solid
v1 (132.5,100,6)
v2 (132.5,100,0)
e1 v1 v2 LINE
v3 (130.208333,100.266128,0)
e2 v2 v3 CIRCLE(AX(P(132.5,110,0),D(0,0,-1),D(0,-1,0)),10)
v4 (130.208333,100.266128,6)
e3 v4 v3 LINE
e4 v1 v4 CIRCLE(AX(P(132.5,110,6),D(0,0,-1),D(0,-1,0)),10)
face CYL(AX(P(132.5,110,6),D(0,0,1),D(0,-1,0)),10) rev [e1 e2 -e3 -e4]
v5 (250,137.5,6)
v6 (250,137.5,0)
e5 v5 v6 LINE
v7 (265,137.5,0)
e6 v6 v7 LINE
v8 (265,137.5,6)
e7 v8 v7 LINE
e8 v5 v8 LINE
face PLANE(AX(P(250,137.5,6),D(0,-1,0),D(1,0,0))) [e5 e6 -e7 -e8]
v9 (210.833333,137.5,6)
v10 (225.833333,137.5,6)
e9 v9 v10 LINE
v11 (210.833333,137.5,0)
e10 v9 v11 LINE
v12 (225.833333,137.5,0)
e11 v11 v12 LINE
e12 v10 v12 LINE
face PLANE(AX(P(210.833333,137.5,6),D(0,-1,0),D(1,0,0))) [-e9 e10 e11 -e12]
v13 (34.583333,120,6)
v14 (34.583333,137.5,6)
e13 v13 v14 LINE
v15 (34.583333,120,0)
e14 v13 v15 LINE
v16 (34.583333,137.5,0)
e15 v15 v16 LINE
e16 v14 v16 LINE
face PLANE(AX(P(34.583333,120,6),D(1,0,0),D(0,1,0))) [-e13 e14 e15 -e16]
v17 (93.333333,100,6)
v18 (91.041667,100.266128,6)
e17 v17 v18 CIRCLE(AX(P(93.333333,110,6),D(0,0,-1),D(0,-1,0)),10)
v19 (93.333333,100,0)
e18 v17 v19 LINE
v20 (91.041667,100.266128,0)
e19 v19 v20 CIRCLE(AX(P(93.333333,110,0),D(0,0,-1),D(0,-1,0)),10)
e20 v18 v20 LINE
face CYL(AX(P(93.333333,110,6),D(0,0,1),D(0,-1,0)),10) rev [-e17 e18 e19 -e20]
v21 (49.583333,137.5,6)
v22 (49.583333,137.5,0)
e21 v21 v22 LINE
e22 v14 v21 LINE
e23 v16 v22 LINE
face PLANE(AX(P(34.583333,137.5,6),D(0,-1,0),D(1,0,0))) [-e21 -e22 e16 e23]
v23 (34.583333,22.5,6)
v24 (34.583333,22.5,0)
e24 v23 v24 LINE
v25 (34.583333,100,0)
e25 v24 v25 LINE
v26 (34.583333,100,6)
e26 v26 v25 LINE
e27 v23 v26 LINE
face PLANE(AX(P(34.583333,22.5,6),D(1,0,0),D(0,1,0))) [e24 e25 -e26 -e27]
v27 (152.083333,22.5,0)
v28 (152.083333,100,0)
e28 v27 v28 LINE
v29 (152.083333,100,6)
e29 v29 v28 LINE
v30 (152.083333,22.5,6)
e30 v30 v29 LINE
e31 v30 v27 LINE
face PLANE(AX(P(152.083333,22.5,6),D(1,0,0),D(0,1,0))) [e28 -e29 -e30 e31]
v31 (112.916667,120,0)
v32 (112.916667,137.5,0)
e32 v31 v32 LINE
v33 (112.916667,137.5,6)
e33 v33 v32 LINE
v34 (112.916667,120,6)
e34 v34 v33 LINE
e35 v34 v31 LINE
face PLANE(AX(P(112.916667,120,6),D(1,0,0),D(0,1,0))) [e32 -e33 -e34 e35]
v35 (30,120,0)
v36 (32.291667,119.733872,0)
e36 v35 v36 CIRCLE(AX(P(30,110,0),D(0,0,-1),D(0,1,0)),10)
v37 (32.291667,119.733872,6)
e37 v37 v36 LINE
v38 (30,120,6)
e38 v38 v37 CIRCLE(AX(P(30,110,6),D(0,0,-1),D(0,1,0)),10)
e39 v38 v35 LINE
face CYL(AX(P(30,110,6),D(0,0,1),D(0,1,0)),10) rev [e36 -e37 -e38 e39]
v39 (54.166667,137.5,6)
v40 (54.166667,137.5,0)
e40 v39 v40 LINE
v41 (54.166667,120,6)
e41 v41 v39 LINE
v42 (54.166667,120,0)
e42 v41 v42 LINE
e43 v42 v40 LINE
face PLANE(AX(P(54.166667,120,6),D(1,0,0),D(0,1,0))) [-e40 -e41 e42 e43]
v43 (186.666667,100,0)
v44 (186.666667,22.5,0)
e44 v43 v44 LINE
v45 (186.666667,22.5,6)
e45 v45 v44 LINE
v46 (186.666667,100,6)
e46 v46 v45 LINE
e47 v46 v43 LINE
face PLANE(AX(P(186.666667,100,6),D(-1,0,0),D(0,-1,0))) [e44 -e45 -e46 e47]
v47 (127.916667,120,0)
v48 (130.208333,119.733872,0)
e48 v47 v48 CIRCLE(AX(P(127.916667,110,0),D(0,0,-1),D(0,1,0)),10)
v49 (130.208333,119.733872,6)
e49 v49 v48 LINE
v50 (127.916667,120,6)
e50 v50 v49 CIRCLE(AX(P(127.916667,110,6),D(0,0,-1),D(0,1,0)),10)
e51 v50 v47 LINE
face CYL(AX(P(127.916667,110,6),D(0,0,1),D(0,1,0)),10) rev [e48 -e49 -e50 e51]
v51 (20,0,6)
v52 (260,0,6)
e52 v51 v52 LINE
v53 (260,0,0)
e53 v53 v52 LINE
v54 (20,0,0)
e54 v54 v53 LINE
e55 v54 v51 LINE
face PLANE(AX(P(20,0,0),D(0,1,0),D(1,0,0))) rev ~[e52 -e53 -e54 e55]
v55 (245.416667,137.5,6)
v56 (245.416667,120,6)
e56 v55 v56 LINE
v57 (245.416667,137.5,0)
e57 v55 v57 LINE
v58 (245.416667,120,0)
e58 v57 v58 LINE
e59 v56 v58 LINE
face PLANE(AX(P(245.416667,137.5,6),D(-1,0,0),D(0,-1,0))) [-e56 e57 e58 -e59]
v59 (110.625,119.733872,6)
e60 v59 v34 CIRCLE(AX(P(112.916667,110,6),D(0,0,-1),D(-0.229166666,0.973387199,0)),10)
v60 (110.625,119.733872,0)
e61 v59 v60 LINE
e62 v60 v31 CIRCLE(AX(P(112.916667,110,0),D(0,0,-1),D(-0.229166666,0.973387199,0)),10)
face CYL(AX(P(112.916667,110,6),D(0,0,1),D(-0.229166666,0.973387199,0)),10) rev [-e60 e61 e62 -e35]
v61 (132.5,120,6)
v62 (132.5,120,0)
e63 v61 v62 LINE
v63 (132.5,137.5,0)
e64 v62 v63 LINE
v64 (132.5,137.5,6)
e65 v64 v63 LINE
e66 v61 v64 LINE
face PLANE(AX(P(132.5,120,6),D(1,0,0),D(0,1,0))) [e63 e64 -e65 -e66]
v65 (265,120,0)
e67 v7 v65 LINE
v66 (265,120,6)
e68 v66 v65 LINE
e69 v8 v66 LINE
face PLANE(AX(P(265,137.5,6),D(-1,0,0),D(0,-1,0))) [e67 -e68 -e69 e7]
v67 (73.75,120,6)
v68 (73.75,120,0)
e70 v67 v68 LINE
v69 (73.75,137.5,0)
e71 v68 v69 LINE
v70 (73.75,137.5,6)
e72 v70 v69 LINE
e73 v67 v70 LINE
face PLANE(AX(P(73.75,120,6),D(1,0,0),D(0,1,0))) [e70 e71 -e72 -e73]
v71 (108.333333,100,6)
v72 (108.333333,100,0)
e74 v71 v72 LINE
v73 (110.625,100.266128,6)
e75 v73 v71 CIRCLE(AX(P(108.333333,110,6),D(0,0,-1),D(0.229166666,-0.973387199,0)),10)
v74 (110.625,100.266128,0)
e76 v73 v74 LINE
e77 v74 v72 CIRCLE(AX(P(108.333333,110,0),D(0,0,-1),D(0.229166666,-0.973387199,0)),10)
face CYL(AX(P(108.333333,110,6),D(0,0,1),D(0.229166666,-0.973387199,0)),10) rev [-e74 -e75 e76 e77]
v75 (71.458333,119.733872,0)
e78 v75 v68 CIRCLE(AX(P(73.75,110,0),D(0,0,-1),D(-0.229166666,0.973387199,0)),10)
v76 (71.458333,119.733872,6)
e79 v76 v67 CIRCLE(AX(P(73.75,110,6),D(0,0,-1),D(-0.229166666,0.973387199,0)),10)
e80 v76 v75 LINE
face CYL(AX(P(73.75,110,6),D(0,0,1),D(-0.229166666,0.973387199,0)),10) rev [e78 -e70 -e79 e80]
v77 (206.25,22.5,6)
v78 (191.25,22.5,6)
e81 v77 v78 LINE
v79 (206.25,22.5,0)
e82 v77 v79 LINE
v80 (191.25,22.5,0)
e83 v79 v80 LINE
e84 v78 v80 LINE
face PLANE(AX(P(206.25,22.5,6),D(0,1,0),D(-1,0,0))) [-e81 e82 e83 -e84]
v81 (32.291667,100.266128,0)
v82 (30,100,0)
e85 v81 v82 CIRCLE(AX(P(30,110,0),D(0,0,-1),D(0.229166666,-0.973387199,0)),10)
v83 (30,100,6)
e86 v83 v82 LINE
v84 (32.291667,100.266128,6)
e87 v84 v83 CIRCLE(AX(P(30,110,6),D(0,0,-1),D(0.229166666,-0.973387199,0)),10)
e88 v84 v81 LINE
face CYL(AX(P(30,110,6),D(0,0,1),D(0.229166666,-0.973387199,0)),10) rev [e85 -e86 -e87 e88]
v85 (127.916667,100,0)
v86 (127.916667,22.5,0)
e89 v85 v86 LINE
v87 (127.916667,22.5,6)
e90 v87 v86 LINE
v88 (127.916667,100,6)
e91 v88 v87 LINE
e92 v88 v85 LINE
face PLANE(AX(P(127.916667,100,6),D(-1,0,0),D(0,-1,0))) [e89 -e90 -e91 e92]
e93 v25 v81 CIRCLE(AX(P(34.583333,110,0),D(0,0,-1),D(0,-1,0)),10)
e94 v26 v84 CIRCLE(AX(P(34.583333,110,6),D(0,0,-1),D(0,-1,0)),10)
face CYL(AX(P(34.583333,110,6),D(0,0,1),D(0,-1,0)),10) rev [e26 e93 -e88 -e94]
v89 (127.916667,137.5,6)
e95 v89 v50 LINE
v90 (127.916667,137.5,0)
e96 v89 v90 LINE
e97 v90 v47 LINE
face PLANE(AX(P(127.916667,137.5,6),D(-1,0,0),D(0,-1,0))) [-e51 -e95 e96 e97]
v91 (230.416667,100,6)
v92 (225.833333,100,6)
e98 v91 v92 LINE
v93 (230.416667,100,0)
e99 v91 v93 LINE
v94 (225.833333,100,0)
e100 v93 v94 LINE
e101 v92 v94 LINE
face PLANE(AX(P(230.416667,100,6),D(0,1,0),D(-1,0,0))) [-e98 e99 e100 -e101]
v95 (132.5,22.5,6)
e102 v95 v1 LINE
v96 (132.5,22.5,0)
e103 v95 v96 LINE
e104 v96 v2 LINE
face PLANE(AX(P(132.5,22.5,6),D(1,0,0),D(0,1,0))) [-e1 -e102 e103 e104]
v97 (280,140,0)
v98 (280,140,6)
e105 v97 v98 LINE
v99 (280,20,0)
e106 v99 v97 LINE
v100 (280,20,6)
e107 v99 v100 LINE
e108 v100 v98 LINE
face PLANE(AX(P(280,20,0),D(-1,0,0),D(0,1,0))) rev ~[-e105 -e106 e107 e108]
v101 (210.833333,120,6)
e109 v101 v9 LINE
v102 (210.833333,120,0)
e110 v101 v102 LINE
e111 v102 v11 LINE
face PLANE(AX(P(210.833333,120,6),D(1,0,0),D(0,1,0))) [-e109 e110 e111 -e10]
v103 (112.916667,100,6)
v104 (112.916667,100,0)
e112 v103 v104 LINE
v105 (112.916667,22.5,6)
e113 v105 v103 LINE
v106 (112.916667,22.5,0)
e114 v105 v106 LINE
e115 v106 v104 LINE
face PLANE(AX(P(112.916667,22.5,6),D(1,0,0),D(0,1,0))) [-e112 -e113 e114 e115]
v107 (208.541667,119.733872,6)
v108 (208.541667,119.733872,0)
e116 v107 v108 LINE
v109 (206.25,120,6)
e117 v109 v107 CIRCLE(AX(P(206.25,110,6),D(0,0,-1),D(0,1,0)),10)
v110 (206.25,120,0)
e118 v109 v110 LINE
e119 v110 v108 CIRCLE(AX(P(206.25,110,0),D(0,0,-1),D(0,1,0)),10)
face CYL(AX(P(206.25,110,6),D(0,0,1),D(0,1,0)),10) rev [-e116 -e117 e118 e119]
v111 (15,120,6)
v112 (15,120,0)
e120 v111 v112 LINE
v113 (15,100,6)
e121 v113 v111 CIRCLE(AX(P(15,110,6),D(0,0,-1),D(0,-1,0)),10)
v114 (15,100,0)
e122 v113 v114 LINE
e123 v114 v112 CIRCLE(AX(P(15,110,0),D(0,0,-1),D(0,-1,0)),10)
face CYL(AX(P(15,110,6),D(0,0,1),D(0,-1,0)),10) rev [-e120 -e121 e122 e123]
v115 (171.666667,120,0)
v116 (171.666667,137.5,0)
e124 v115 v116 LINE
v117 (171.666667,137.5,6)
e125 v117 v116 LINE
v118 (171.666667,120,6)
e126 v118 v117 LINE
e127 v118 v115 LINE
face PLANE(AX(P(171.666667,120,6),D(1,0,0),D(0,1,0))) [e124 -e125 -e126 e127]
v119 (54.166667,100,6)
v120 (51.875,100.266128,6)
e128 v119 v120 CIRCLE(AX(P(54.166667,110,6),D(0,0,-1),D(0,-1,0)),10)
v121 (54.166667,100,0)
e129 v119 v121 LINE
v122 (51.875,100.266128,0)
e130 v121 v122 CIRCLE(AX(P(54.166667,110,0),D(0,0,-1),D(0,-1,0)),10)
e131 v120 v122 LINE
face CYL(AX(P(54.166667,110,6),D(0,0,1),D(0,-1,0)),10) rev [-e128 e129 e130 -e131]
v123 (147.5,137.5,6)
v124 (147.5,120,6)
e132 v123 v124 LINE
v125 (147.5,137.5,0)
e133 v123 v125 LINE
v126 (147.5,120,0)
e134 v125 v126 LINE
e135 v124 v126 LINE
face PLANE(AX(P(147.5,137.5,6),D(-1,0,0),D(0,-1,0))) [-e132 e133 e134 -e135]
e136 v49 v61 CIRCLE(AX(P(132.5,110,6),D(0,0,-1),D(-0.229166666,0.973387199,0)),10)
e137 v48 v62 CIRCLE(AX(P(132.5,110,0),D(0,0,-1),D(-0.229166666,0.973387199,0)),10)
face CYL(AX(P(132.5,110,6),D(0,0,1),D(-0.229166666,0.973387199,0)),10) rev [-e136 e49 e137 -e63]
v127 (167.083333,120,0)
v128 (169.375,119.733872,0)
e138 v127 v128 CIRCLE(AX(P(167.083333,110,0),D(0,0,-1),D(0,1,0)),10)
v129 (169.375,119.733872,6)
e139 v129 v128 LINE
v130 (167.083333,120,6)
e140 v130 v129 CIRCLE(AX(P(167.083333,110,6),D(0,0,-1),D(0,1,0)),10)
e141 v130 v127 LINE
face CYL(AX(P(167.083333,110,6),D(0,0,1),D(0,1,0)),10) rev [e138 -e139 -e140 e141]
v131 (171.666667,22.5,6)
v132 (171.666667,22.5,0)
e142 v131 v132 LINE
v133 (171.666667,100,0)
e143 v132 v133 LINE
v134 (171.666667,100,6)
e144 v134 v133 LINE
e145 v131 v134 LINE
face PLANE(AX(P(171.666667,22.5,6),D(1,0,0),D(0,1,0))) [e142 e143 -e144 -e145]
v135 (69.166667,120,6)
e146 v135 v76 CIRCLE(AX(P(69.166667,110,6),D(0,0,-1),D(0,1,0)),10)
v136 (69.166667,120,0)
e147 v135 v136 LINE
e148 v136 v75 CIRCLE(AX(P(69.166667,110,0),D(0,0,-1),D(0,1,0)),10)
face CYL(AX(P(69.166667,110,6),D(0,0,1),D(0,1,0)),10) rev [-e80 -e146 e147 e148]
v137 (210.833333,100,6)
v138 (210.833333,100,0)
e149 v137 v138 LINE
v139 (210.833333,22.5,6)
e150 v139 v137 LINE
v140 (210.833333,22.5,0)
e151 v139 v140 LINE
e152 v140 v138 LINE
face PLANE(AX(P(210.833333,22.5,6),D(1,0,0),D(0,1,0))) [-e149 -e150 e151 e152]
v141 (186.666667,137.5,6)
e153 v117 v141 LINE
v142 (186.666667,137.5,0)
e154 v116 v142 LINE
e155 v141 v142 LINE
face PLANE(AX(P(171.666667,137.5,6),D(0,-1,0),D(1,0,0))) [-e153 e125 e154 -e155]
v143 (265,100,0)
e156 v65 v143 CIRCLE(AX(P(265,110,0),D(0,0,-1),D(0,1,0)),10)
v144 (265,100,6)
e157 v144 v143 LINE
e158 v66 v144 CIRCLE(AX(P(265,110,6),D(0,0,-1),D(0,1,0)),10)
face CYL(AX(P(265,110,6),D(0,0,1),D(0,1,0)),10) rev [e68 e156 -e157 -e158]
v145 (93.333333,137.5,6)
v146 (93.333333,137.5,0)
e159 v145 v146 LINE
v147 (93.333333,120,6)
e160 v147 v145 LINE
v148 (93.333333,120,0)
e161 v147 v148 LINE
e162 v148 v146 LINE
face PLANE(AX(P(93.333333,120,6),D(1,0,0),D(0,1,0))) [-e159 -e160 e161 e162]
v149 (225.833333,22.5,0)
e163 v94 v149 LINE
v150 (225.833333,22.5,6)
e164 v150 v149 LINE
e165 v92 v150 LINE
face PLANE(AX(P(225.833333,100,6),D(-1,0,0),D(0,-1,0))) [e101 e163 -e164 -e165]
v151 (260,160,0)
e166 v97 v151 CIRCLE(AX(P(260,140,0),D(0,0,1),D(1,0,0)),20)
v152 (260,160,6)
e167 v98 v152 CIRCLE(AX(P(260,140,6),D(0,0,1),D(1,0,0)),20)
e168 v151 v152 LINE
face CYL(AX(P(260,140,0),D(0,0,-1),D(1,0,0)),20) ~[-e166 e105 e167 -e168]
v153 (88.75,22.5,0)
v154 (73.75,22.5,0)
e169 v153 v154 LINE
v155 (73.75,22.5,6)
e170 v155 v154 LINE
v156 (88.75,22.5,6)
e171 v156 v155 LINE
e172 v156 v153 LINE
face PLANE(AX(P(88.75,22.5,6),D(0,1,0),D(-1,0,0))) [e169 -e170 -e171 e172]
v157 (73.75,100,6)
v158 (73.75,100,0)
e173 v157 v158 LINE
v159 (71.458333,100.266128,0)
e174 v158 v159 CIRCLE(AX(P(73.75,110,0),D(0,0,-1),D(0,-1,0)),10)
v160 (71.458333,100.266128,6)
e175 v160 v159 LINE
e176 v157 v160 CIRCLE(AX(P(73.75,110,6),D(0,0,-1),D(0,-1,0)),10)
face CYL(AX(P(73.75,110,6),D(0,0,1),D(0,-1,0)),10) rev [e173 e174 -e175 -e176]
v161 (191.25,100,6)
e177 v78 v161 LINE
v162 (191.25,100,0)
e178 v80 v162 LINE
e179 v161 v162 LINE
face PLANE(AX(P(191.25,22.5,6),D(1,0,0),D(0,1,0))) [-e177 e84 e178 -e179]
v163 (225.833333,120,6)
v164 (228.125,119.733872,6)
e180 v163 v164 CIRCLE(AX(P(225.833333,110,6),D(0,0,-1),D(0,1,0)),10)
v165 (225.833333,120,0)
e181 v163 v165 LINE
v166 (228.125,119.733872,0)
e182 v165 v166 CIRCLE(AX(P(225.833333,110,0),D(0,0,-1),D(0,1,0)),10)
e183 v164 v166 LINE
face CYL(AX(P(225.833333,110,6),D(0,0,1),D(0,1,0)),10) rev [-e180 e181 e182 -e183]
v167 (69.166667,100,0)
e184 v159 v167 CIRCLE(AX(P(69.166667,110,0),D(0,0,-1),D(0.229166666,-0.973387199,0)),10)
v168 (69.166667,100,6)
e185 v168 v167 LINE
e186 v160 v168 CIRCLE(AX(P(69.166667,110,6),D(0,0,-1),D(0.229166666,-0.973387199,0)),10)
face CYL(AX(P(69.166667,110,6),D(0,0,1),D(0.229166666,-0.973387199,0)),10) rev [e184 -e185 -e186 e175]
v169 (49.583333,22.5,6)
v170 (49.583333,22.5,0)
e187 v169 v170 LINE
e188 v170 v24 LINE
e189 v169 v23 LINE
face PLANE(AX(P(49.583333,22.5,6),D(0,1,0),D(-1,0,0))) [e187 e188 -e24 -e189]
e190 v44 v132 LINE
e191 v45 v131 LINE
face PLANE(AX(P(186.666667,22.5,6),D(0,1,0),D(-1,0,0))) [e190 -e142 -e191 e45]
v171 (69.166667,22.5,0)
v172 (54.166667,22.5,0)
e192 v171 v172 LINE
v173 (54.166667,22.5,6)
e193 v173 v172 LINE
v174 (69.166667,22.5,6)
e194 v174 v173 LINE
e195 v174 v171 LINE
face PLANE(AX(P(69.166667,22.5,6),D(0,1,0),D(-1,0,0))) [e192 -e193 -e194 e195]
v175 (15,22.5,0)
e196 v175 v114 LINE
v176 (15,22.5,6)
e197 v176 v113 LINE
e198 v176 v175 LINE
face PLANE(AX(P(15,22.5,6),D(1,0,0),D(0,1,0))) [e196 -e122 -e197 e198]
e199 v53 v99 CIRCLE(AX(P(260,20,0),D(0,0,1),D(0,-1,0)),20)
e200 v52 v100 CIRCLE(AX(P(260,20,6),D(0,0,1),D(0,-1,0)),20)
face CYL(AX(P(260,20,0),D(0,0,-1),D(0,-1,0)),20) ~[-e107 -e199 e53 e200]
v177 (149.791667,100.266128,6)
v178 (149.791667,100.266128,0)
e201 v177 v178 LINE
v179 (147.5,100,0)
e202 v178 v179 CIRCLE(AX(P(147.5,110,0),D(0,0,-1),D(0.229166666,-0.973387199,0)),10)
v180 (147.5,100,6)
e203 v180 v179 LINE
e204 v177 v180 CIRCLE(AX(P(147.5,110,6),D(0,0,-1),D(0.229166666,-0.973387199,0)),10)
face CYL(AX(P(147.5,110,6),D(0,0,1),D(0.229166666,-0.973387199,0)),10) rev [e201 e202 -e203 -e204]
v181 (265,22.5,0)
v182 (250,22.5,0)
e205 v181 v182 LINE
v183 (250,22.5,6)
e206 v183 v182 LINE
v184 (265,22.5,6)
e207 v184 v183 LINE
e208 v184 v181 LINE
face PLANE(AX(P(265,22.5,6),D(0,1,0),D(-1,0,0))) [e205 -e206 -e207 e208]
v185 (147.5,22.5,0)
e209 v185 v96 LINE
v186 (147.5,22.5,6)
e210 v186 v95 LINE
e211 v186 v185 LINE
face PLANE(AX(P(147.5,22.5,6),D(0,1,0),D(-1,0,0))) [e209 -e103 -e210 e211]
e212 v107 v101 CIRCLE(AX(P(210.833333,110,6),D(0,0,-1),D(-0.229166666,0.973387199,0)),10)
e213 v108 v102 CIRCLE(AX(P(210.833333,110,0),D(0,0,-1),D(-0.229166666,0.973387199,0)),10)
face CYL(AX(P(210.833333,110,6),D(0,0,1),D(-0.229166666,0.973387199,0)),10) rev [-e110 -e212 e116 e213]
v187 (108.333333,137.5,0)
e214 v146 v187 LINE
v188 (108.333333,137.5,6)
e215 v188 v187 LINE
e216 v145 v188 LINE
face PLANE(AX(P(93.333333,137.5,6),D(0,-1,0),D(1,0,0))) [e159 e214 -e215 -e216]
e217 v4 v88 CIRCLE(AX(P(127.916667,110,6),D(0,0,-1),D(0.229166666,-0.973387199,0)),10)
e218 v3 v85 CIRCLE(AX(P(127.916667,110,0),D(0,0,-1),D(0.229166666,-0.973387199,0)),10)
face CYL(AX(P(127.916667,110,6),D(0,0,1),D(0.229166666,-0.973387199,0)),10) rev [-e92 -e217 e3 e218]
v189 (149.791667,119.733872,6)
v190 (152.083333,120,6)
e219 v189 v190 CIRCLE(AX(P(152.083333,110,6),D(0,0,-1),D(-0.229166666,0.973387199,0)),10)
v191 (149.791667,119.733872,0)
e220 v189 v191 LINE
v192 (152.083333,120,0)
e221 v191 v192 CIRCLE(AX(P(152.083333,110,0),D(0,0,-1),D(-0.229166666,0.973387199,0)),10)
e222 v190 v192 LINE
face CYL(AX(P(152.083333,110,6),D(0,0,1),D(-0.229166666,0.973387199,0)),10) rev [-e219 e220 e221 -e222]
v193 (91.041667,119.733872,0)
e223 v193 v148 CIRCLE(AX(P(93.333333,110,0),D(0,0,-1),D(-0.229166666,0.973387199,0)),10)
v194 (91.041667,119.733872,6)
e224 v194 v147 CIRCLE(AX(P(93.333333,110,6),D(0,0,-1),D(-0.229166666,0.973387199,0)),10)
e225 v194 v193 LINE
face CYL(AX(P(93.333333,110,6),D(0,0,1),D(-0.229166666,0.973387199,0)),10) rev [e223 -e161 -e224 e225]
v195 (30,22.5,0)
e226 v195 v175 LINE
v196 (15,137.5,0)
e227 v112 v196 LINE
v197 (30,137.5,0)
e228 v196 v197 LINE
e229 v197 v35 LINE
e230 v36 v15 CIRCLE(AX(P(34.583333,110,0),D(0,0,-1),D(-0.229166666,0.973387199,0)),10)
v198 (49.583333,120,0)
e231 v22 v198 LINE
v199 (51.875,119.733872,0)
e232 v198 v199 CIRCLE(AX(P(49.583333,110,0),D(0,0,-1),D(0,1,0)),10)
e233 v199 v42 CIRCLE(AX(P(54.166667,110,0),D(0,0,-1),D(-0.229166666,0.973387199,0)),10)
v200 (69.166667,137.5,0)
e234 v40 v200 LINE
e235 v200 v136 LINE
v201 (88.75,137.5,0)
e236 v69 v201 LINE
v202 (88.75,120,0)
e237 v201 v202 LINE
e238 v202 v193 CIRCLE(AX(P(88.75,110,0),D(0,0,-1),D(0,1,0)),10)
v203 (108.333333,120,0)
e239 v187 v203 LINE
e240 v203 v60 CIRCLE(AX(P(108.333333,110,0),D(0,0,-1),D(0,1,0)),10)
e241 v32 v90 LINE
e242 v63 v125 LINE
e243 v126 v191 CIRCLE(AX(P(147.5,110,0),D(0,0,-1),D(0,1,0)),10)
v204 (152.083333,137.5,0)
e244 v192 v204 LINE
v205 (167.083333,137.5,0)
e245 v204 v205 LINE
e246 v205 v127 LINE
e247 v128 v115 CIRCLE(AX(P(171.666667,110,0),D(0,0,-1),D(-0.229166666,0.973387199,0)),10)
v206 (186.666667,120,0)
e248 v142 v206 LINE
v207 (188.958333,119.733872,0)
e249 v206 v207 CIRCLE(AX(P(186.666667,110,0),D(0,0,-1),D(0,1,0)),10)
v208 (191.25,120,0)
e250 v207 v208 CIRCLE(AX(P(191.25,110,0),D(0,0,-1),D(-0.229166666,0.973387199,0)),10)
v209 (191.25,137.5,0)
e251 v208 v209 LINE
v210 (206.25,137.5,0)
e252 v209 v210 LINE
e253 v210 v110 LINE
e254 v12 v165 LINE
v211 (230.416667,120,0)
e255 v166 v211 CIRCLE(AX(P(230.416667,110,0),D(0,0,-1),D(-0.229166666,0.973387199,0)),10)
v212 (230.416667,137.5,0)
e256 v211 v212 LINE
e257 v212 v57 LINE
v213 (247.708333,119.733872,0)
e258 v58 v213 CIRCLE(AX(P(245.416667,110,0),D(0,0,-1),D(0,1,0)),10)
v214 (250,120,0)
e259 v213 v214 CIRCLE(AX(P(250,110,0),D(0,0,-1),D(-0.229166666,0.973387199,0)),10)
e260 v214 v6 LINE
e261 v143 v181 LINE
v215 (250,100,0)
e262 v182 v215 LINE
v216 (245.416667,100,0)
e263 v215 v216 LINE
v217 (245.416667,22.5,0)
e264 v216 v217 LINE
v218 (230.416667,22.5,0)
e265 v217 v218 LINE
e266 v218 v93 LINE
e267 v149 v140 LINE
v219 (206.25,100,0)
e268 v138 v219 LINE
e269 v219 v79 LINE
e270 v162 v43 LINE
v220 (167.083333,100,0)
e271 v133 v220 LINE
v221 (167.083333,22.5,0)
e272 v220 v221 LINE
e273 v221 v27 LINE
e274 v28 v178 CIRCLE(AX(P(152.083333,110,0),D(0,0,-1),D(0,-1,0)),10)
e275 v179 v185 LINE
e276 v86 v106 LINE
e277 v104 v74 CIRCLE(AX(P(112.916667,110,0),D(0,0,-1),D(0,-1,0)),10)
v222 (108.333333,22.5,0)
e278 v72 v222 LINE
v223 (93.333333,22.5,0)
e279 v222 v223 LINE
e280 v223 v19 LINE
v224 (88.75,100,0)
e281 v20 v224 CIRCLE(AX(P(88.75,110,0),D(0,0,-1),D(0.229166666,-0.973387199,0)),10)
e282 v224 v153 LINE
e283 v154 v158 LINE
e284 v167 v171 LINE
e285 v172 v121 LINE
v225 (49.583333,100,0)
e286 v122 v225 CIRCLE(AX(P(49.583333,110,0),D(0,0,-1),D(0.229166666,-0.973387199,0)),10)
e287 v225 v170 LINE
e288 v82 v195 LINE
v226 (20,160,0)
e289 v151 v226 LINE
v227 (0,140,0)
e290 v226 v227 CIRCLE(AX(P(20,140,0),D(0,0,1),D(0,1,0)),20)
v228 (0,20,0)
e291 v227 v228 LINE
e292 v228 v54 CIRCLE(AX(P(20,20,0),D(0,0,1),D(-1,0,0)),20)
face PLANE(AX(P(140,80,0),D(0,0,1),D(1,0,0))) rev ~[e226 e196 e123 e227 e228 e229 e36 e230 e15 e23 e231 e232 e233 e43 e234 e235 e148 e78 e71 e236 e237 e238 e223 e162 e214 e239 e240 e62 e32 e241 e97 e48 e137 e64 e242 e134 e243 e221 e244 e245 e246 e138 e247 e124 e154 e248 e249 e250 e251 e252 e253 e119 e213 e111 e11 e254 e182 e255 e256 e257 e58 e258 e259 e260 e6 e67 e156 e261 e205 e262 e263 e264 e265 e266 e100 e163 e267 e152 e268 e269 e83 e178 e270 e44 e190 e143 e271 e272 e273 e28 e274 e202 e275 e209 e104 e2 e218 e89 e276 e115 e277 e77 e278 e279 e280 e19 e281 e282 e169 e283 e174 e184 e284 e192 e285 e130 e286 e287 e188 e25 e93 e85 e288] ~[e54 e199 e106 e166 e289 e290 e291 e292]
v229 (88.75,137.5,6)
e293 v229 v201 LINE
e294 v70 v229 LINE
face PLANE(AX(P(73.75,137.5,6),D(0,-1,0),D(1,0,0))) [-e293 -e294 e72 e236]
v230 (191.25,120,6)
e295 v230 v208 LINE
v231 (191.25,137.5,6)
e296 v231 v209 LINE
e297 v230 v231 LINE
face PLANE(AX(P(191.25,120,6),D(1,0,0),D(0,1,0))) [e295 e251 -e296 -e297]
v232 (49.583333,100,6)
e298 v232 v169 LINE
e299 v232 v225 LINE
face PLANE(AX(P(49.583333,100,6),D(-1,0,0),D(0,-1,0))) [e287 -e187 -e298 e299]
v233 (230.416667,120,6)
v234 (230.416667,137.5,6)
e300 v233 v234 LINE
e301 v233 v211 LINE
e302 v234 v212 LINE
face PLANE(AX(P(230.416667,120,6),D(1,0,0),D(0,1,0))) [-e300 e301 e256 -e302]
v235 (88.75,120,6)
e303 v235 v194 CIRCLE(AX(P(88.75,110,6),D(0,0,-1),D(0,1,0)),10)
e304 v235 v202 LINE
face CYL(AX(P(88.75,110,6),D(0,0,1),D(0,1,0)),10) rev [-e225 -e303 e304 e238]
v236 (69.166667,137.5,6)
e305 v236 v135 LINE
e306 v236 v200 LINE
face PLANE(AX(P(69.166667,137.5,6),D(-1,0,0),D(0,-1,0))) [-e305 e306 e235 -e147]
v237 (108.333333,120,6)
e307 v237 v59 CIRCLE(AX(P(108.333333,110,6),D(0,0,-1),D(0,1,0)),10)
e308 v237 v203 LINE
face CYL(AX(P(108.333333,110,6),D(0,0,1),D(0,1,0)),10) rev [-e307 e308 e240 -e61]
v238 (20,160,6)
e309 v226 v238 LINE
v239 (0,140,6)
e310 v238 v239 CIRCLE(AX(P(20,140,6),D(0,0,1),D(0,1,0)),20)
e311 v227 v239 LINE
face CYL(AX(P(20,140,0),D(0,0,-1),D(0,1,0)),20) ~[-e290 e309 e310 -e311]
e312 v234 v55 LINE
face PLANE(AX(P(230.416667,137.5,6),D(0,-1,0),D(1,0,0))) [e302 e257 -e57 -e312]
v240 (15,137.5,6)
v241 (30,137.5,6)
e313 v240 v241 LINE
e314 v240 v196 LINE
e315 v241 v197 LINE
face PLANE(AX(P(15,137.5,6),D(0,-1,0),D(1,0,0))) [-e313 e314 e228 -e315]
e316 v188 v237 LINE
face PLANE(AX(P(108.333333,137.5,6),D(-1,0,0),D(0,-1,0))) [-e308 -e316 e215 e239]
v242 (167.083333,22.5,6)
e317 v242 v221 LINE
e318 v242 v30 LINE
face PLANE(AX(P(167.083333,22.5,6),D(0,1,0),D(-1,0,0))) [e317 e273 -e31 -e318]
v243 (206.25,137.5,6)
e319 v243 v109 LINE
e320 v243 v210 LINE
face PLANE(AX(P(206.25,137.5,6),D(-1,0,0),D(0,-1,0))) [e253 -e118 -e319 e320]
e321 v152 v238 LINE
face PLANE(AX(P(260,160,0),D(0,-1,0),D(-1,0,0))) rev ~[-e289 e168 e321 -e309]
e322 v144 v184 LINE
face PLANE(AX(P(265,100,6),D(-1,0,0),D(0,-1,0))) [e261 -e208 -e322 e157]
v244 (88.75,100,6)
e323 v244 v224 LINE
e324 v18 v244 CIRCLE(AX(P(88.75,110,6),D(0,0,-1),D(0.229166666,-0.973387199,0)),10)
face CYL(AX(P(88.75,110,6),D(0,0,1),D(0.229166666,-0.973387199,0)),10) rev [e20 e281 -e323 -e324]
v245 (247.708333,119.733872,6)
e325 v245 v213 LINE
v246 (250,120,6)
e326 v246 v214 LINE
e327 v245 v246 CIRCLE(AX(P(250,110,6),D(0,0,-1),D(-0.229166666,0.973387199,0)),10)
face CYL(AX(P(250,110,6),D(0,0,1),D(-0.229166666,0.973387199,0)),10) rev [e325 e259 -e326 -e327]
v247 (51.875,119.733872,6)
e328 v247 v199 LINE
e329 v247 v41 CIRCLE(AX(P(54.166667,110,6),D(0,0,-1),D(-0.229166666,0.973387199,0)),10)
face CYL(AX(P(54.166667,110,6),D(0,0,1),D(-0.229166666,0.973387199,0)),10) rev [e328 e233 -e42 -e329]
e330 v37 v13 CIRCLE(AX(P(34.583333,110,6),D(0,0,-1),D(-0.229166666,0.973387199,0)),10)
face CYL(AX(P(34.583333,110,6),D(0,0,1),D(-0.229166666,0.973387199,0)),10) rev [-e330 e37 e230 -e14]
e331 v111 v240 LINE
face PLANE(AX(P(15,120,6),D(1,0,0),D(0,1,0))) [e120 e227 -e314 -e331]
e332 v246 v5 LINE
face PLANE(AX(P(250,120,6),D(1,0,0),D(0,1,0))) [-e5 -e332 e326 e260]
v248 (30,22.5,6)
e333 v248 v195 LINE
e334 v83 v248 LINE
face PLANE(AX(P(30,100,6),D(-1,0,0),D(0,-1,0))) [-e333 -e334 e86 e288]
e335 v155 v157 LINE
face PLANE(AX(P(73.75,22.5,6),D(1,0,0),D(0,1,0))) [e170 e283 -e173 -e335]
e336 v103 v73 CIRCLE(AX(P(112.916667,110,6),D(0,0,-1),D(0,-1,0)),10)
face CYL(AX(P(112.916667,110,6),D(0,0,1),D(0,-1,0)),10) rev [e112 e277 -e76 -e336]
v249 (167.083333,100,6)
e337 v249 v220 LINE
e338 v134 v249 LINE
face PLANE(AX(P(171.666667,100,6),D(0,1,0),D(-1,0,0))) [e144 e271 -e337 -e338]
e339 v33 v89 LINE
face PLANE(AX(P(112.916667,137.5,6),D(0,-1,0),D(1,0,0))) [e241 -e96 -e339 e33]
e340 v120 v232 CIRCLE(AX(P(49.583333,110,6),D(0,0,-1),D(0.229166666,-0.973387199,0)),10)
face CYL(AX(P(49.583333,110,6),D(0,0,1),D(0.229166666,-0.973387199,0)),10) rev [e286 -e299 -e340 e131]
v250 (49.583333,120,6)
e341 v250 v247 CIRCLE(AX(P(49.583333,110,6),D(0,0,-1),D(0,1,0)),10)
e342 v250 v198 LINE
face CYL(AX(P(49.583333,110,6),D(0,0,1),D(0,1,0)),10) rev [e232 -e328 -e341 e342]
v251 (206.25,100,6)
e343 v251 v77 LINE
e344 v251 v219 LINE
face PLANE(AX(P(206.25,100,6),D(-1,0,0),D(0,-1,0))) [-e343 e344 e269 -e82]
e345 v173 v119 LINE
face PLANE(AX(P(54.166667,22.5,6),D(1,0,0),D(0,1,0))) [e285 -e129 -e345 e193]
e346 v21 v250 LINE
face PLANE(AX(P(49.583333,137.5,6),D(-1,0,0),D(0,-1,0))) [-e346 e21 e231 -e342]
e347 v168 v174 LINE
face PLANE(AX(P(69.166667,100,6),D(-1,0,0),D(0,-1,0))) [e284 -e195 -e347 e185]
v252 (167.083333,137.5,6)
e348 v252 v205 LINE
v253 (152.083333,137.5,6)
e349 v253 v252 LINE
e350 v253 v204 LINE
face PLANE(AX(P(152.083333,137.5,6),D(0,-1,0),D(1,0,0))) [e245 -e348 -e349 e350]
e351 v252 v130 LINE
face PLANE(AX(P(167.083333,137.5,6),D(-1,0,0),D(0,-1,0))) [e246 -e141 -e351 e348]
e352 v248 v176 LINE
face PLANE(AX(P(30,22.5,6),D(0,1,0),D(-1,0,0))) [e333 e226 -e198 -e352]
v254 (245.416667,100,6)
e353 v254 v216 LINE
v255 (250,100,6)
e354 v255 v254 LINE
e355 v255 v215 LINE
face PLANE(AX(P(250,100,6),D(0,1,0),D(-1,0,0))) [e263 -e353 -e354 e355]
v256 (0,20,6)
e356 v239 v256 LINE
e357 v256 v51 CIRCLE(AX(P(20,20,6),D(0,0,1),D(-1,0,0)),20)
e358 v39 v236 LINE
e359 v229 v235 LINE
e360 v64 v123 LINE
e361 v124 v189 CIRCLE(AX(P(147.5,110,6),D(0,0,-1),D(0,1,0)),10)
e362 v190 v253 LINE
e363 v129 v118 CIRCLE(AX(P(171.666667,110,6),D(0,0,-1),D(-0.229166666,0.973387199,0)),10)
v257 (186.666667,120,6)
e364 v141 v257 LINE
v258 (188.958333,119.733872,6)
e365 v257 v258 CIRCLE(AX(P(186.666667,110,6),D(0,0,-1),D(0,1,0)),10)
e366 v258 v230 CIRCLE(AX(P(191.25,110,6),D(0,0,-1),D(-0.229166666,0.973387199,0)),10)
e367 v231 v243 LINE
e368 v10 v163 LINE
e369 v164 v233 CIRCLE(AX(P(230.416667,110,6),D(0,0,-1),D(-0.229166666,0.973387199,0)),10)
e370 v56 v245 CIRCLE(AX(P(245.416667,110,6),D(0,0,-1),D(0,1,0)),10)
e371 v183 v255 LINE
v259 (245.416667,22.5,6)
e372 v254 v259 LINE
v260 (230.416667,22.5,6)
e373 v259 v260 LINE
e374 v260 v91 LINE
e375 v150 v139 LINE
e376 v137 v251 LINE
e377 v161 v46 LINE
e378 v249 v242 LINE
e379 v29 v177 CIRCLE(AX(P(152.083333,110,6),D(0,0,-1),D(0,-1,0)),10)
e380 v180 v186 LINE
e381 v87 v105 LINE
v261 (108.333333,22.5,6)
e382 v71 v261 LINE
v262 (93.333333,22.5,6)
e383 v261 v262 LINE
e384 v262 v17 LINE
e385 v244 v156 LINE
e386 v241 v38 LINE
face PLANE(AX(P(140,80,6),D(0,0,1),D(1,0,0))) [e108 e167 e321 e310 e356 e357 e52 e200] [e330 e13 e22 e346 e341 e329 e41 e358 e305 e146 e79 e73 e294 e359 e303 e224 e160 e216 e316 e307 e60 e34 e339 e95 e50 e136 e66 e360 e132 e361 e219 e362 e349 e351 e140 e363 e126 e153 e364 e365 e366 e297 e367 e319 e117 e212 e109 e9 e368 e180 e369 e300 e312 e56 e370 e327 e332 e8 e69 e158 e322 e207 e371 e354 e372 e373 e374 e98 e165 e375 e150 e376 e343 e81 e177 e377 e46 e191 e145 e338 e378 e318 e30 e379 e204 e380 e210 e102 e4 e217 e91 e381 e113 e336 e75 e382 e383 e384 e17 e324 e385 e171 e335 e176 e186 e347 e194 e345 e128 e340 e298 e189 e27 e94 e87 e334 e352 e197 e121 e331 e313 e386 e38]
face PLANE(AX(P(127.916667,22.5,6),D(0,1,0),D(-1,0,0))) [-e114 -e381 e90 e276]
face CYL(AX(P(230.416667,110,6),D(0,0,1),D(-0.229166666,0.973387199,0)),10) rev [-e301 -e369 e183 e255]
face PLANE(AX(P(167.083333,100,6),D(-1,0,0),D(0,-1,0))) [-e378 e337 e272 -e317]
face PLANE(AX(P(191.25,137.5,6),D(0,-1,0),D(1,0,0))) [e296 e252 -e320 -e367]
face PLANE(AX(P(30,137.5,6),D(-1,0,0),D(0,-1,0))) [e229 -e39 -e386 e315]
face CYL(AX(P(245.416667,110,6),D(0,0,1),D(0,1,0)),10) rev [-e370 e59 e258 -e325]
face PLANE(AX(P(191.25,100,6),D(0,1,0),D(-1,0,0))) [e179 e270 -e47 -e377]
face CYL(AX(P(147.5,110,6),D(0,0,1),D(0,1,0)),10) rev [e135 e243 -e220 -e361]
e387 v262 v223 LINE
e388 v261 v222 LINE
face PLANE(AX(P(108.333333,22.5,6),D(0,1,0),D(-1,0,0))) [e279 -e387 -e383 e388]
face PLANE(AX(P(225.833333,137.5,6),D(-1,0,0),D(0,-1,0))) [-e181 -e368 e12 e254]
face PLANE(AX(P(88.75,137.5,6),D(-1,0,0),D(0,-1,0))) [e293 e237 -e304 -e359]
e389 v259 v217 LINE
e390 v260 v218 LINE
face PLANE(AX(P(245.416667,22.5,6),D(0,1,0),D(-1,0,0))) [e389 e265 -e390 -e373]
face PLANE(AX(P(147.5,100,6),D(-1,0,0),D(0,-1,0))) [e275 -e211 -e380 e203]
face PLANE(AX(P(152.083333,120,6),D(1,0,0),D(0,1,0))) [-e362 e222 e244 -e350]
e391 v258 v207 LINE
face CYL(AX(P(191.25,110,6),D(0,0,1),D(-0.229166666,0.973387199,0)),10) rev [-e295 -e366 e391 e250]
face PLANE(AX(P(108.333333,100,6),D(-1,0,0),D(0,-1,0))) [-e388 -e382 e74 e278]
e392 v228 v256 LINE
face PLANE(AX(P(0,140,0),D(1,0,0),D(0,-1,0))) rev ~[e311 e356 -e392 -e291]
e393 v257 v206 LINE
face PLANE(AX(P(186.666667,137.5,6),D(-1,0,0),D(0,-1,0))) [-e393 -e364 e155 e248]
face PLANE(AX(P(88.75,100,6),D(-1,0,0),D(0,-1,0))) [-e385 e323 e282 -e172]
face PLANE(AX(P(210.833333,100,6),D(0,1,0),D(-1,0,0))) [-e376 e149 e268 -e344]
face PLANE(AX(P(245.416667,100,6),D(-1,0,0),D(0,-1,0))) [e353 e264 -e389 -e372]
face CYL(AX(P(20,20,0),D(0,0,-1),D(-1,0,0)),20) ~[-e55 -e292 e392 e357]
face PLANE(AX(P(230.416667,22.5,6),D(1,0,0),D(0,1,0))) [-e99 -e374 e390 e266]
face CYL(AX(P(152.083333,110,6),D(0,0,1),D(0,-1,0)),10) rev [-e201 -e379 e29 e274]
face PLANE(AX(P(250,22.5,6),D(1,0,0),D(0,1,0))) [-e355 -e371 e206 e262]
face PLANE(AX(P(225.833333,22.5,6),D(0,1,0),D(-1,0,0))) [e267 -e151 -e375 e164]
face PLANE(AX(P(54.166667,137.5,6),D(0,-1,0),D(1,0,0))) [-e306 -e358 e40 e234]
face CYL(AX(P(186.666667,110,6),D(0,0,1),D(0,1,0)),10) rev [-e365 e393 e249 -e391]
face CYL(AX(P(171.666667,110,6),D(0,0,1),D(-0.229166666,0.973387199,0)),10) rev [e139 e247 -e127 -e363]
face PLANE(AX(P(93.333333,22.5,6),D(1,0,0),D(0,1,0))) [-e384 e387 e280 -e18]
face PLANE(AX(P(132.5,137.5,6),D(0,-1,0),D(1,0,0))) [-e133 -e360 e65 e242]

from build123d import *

# Parameters (mm, degrees)
BOSS_EXTRUDE1_DEPTH = 6
CUT_EXTRUDE1_DEPTH  = 6


with BuildPart() as part:
    # Sketch1 → Boss-Extrude1 (new body)
    with BuildSketch(Plane.XY):
        with BuildLine():
            Line((20, 0), (260, 0))
            ThreePointArc((260, 0), (274.142135624, 5.857864376), (280, 20))
            Line((280, 20), (280, 140))
            ThreePointArc((280, 140), (274.142135624, 154.142135624), (260, 160))
            Line((260, 160), (20, 160))
            ThreePointArc((20, 160), (5.857864376, 154.142135624), (0, 140))
            Line((0, 140), (0, 20))
            ThreePointArc((0, 20), (5.857864376, 5.857864376), (20, 0))
        make_face()
    extrude(amount=BOSS_EXTRUDE1_DEPTH)

    # Sketch2 → Cut-Extrude1 (cut)
    with BuildSketch(Plane.XY.offset(6)):
        with BuildLine():
            Line((15, 137.5), (30, 137.5))
            Line((30, 137.5), (30, 120))
            ThreePointArc((30, 120), (31.153533726, 119.933245187), (32.291666667, 119.733871989))
            ThreePointArc((32.291666667, 119.733871989), (33.429799607, 119.933245187), (34.583333333, 120))
            Line((34.583333333, 120), (34.583333333, 137.5))
            Line((34.583333333, 137.5), (49.583333333, 137.5))
            Line((49.583333333, 137.5), (49.583333333, 120))
            ThreePointArc((49.583333333, 120), (50.736867059, 119.933245187), (51.875, 119.733871989))
            ThreePointArc((51.875, 119.733871989), (53.013132941, 119.933245187), (54.166666667, 120))
            Line((54.166666667, 120), (54.166666667, 137.5))
            Line((54.166666667, 137.5), (69.166666667, 137.5))
            Line((69.166666667, 137.5), (69.166666667, 120))
            ThreePointArc((69.166666667, 120), (70.320200393, 119.933245187), (71.458333333, 119.733871989))
            ThreePointArc((71.458333333, 119.733871989), (72.596466274, 119.933245187), (73.75, 120))
            Line((73.75, 120), (73.75, 137.5))
            Line((73.75, 137.5), (88.75, 137.5))
            Line((88.75, 137.5), (88.75, 120))
            ThreePointArc((88.75, 120), (89.903533726, 119.933245187), (91.041666667, 119.733871989))
            ThreePointArc((91.041666667, 119.733871989), (92.179799607, 119.933245187), (93.333333333, 120))
            Line((93.333333333, 120), (93.333333333, 137.5))
            Line((93.333333333, 137.5), (108.333333333, 137.5))
            Line((108.333333333, 137.5), (108.333333333, 120))
            ThreePointArc((108.333333333, 120), (109.486867059, 119.933245187), (110.625, 119.733871989))
            ThreePointArc((110.625, 119.733871989), (111.763132941, 119.933245187), (112.916666667, 120))
            Line((112.916666667, 120), (112.916666667, 137.5))
            Line((112.916666667, 137.5), (127.916666667, 137.5))
            Line((127.916666667, 137.5), (127.916666667, 120))
            ThreePointArc((127.916666667, 120), (129.070200393, 119.933245187), (130.208333333, 119.733871989))
            ThreePointArc((130.208333333, 119.733871989), (131.346466274, 119.933245187), (132.5, 120))
            Line((132.5, 120), (132.5, 137.5))
            Line((132.5, 137.5), (147.5, 137.5))
            Line((147.5, 137.5), (147.5, 120))
            ThreePointArc((147.5, 120), (148.653533726, 119.933245187), (149.791666667, 119.733871989))
            ThreePointArc((149.791666667, 119.733871989), (150.929799607, 119.933245187), (152.083333333, 120))
            Line((152.083333333, 120), (152.083333333, 137.5))
            Line((152.083333333, 137.5), (167.083333333, 137.5))
            Line((167.083333333, 137.5), (167.083333333, 120))
            ThreePointArc((167.083333333, 120), (168.236867059, 119.933245187), (169.375, 119.733871989))
            ThreePointArc((169.375, 119.733871989), (170.513132941, 119.933245187), (171.666666667, 120))
            Line((171.666666667, 120), (171.666666667, 137.5))
            Line((171.666666667, 137.5), (186.666666667, 137.5))
            Line((186.666666667, 137.5), (186.666666667, 120))
            ThreePointArc((186.666666667, 120), (187.820200393, 119.933245187), (188.958333333, 119.733871989))
            ThreePointArc((188.958333333, 119.733871989), (190.096466274, 119.933245187), (191.25, 120))
            Line((191.25, 120), (191.25, 137.5))
            Line((191.25, 137.5), (206.25, 137.5))
            Line((206.25, 137.5), (206.25, 120))
            ThreePointArc((206.25, 120), (207.403533726, 119.933245187), (208.541666667, 119.733871989))
            ThreePointArc((208.541666667, 119.733871989), (209.679799607, 119.933245187), (210.833333333, 120))
            Line((210.833333333, 120), (210.833333333, 137.5))
            Line((210.833333333, 137.5), (225.833333333, 137.5))
            Line((225.833333333, 137.5), (225.833333333, 120))
            ThreePointArc((225.833333333, 120), (226.986867059, 119.933245187), (228.125, 119.733871989))
            ThreePointArc((228.125, 119.733871989), (229.263132941, 119.933245187), (230.416666667, 120))
            Line((230.416666667, 120), (230.416666667, 137.5))
            Line((230.416666667, 137.5), (245.416666667, 137.5))
            Line((245.416666667, 137.5), (245.416666667, 120))
            ThreePointArc((245.416666667, 120), (246.570200393, 119.933245187), (247.708333333, 119.733871989))
            ThreePointArc((247.708333333, 119.733871989), (248.846466274, 119.933245187), (250, 120))
            Line((250, 120), (250, 137.5))
            Line((250, 137.5), (265, 137.5))
            Line((265, 137.5), (265, 120))
            ThreePointArc((265, 120), (275, 110), (265, 100))
            Line((265, 100), (265, 22.5))
            Line((265, 22.5), (250, 22.5))
            Line((250, 22.5), (250, 100))
            Line((250, 100), (245.416666667, 100))
            Line((245.416666667, 100), (245.416666667, 22.5))
            Line((245.416666667, 22.5), (230.416666667, 22.5))
            Line((230.416666667, 22.5), (230.416666667, 100))
            Line((230.416666667, 100), (225.833333333, 100))
            Line((225.833333333, 100), (225.833333333, 22.5))
            Line((225.833333333, 22.5), (210.833333333, 22.5))
            Line((210.833333333, 22.5), (210.833333333, 100))
            Line((210.833333333, 100), (206.25, 100))
            Line((206.25, 100), (206.25, 22.5))
            Line((206.25, 22.5), (191.25, 22.5))
            Line((191.25, 22.5), (191.25, 100))
            Line((191.25, 100), (186.666666667, 100))
            Line((186.666666667, 100), (186.666666667, 22.5))
            Line((186.666666667, 22.5), (171.666666667, 22.5))
            Line((171.666666667, 22.5), (171.666666667, 100))
            Line((171.666666667, 100), (167.083333333, 100))
            Line((167.083333333, 100), (167.083333333, 22.5))
            Line((167.083333333, 22.5), (152.083333333, 22.5))
            Line((152.083333333, 22.5), (152.083333333, 100))
            ThreePointArc((152.083333333, 100), (150.929799607, 100.066754813), (149.791666667, 100.266128011))
            ThreePointArc((149.791666667, 100.266128011), (148.653533726, 100.066754813), (147.5, 100))
            Line((147.5, 100), (147.5, 22.5))
            Line((147.5, 22.5), (132.5, 22.5))
            Line((132.5, 22.5), (132.5, 100))
            ThreePointArc((132.5, 100), (131.346466274, 100.066754813), (130.208333333, 100.266128011))
            ThreePointArc((130.208333333, 100.266128011), (129.070200393, 100.066754813), (127.916666667, 100))
            Line((127.916666667, 100), (127.916666667, 22.5))
            Line((127.916666667, 22.5), (112.916666667, 22.5))
            Line((112.916666667, 22.5), (112.916666667, 100))
            ThreePointArc((112.916666667, 100), (111.763132941, 100.066754813), (110.625, 100.266128011))
            ThreePointArc((110.625, 100.266128011), (109.486867059, 100.066754813), (108.333333333, 100))
            Line((108.333333333, 100), (108.333333333, 22.5))
            Line((108.333333333, 22.5), (93.333333333, 22.5))
            Line((93.333333333, 22.5), (93.333333333, 100))
            ThreePointArc((93.333333333, 100), (92.179799607, 100.066754813), (91.041666667, 100.266128011))
            ThreePointArc((91.041666667, 100.266128011), (89.903533726, 100.066754813), (88.75, 100))
            Line((88.75, 100), (88.75, 22.5))
            Line((88.75, 22.5), (73.75, 22.5))
            Line((73.75, 22.5), (73.75, 100))
            ThreePointArc((73.75, 100), (72.596466274, 100.066754813), (71.458333333, 100.266128011))
            ThreePointArc((71.458333333, 100.266128011), (70.320200393, 100.066754813), (69.166666667, 100))
            Line((69.166666667, 100), (69.166666667, 22.5))
            Line((69.166666667, 22.5), (54.166666667, 22.5))
            Line((54.166666667, 22.5), (54.166666667, 100))
            ThreePointArc((54.166666667, 100), (53.013132941, 100.066754813), (51.875, 100.266128011))
            ThreePointArc((51.875, 100.266128011), (50.736867059, 100.066754813), (49.583333333, 100))
            Line((49.583333333, 100), (49.583333333, 22.5))
            Line((49.583333333, 22.5), (34.583333333, 22.5))
            Line((34.583333333, 22.5), (34.583333333, 100))
            ThreePointArc((34.583333333, 100), (33.429799607, 100.066754813), (32.291666667, 100.266128011))
            ThreePointArc((32.291666667, 100.266128011), (31.153533726, 100.066754813), (30, 100))
            Line((30, 100), (30, 22.5))
            Line((30, 22.5), (15, 22.5))
            Line((15, 22.5), (15, 100))
            ThreePointArc((15, 100), (5, 110), (15, 120))
            Line((15, 120), (15, 137.5))
        make_face()
    extrude(amount=-CUT_EXTRUDE1_DEPTH, mode=Mode.SUBTRACT)


solid = part.part
